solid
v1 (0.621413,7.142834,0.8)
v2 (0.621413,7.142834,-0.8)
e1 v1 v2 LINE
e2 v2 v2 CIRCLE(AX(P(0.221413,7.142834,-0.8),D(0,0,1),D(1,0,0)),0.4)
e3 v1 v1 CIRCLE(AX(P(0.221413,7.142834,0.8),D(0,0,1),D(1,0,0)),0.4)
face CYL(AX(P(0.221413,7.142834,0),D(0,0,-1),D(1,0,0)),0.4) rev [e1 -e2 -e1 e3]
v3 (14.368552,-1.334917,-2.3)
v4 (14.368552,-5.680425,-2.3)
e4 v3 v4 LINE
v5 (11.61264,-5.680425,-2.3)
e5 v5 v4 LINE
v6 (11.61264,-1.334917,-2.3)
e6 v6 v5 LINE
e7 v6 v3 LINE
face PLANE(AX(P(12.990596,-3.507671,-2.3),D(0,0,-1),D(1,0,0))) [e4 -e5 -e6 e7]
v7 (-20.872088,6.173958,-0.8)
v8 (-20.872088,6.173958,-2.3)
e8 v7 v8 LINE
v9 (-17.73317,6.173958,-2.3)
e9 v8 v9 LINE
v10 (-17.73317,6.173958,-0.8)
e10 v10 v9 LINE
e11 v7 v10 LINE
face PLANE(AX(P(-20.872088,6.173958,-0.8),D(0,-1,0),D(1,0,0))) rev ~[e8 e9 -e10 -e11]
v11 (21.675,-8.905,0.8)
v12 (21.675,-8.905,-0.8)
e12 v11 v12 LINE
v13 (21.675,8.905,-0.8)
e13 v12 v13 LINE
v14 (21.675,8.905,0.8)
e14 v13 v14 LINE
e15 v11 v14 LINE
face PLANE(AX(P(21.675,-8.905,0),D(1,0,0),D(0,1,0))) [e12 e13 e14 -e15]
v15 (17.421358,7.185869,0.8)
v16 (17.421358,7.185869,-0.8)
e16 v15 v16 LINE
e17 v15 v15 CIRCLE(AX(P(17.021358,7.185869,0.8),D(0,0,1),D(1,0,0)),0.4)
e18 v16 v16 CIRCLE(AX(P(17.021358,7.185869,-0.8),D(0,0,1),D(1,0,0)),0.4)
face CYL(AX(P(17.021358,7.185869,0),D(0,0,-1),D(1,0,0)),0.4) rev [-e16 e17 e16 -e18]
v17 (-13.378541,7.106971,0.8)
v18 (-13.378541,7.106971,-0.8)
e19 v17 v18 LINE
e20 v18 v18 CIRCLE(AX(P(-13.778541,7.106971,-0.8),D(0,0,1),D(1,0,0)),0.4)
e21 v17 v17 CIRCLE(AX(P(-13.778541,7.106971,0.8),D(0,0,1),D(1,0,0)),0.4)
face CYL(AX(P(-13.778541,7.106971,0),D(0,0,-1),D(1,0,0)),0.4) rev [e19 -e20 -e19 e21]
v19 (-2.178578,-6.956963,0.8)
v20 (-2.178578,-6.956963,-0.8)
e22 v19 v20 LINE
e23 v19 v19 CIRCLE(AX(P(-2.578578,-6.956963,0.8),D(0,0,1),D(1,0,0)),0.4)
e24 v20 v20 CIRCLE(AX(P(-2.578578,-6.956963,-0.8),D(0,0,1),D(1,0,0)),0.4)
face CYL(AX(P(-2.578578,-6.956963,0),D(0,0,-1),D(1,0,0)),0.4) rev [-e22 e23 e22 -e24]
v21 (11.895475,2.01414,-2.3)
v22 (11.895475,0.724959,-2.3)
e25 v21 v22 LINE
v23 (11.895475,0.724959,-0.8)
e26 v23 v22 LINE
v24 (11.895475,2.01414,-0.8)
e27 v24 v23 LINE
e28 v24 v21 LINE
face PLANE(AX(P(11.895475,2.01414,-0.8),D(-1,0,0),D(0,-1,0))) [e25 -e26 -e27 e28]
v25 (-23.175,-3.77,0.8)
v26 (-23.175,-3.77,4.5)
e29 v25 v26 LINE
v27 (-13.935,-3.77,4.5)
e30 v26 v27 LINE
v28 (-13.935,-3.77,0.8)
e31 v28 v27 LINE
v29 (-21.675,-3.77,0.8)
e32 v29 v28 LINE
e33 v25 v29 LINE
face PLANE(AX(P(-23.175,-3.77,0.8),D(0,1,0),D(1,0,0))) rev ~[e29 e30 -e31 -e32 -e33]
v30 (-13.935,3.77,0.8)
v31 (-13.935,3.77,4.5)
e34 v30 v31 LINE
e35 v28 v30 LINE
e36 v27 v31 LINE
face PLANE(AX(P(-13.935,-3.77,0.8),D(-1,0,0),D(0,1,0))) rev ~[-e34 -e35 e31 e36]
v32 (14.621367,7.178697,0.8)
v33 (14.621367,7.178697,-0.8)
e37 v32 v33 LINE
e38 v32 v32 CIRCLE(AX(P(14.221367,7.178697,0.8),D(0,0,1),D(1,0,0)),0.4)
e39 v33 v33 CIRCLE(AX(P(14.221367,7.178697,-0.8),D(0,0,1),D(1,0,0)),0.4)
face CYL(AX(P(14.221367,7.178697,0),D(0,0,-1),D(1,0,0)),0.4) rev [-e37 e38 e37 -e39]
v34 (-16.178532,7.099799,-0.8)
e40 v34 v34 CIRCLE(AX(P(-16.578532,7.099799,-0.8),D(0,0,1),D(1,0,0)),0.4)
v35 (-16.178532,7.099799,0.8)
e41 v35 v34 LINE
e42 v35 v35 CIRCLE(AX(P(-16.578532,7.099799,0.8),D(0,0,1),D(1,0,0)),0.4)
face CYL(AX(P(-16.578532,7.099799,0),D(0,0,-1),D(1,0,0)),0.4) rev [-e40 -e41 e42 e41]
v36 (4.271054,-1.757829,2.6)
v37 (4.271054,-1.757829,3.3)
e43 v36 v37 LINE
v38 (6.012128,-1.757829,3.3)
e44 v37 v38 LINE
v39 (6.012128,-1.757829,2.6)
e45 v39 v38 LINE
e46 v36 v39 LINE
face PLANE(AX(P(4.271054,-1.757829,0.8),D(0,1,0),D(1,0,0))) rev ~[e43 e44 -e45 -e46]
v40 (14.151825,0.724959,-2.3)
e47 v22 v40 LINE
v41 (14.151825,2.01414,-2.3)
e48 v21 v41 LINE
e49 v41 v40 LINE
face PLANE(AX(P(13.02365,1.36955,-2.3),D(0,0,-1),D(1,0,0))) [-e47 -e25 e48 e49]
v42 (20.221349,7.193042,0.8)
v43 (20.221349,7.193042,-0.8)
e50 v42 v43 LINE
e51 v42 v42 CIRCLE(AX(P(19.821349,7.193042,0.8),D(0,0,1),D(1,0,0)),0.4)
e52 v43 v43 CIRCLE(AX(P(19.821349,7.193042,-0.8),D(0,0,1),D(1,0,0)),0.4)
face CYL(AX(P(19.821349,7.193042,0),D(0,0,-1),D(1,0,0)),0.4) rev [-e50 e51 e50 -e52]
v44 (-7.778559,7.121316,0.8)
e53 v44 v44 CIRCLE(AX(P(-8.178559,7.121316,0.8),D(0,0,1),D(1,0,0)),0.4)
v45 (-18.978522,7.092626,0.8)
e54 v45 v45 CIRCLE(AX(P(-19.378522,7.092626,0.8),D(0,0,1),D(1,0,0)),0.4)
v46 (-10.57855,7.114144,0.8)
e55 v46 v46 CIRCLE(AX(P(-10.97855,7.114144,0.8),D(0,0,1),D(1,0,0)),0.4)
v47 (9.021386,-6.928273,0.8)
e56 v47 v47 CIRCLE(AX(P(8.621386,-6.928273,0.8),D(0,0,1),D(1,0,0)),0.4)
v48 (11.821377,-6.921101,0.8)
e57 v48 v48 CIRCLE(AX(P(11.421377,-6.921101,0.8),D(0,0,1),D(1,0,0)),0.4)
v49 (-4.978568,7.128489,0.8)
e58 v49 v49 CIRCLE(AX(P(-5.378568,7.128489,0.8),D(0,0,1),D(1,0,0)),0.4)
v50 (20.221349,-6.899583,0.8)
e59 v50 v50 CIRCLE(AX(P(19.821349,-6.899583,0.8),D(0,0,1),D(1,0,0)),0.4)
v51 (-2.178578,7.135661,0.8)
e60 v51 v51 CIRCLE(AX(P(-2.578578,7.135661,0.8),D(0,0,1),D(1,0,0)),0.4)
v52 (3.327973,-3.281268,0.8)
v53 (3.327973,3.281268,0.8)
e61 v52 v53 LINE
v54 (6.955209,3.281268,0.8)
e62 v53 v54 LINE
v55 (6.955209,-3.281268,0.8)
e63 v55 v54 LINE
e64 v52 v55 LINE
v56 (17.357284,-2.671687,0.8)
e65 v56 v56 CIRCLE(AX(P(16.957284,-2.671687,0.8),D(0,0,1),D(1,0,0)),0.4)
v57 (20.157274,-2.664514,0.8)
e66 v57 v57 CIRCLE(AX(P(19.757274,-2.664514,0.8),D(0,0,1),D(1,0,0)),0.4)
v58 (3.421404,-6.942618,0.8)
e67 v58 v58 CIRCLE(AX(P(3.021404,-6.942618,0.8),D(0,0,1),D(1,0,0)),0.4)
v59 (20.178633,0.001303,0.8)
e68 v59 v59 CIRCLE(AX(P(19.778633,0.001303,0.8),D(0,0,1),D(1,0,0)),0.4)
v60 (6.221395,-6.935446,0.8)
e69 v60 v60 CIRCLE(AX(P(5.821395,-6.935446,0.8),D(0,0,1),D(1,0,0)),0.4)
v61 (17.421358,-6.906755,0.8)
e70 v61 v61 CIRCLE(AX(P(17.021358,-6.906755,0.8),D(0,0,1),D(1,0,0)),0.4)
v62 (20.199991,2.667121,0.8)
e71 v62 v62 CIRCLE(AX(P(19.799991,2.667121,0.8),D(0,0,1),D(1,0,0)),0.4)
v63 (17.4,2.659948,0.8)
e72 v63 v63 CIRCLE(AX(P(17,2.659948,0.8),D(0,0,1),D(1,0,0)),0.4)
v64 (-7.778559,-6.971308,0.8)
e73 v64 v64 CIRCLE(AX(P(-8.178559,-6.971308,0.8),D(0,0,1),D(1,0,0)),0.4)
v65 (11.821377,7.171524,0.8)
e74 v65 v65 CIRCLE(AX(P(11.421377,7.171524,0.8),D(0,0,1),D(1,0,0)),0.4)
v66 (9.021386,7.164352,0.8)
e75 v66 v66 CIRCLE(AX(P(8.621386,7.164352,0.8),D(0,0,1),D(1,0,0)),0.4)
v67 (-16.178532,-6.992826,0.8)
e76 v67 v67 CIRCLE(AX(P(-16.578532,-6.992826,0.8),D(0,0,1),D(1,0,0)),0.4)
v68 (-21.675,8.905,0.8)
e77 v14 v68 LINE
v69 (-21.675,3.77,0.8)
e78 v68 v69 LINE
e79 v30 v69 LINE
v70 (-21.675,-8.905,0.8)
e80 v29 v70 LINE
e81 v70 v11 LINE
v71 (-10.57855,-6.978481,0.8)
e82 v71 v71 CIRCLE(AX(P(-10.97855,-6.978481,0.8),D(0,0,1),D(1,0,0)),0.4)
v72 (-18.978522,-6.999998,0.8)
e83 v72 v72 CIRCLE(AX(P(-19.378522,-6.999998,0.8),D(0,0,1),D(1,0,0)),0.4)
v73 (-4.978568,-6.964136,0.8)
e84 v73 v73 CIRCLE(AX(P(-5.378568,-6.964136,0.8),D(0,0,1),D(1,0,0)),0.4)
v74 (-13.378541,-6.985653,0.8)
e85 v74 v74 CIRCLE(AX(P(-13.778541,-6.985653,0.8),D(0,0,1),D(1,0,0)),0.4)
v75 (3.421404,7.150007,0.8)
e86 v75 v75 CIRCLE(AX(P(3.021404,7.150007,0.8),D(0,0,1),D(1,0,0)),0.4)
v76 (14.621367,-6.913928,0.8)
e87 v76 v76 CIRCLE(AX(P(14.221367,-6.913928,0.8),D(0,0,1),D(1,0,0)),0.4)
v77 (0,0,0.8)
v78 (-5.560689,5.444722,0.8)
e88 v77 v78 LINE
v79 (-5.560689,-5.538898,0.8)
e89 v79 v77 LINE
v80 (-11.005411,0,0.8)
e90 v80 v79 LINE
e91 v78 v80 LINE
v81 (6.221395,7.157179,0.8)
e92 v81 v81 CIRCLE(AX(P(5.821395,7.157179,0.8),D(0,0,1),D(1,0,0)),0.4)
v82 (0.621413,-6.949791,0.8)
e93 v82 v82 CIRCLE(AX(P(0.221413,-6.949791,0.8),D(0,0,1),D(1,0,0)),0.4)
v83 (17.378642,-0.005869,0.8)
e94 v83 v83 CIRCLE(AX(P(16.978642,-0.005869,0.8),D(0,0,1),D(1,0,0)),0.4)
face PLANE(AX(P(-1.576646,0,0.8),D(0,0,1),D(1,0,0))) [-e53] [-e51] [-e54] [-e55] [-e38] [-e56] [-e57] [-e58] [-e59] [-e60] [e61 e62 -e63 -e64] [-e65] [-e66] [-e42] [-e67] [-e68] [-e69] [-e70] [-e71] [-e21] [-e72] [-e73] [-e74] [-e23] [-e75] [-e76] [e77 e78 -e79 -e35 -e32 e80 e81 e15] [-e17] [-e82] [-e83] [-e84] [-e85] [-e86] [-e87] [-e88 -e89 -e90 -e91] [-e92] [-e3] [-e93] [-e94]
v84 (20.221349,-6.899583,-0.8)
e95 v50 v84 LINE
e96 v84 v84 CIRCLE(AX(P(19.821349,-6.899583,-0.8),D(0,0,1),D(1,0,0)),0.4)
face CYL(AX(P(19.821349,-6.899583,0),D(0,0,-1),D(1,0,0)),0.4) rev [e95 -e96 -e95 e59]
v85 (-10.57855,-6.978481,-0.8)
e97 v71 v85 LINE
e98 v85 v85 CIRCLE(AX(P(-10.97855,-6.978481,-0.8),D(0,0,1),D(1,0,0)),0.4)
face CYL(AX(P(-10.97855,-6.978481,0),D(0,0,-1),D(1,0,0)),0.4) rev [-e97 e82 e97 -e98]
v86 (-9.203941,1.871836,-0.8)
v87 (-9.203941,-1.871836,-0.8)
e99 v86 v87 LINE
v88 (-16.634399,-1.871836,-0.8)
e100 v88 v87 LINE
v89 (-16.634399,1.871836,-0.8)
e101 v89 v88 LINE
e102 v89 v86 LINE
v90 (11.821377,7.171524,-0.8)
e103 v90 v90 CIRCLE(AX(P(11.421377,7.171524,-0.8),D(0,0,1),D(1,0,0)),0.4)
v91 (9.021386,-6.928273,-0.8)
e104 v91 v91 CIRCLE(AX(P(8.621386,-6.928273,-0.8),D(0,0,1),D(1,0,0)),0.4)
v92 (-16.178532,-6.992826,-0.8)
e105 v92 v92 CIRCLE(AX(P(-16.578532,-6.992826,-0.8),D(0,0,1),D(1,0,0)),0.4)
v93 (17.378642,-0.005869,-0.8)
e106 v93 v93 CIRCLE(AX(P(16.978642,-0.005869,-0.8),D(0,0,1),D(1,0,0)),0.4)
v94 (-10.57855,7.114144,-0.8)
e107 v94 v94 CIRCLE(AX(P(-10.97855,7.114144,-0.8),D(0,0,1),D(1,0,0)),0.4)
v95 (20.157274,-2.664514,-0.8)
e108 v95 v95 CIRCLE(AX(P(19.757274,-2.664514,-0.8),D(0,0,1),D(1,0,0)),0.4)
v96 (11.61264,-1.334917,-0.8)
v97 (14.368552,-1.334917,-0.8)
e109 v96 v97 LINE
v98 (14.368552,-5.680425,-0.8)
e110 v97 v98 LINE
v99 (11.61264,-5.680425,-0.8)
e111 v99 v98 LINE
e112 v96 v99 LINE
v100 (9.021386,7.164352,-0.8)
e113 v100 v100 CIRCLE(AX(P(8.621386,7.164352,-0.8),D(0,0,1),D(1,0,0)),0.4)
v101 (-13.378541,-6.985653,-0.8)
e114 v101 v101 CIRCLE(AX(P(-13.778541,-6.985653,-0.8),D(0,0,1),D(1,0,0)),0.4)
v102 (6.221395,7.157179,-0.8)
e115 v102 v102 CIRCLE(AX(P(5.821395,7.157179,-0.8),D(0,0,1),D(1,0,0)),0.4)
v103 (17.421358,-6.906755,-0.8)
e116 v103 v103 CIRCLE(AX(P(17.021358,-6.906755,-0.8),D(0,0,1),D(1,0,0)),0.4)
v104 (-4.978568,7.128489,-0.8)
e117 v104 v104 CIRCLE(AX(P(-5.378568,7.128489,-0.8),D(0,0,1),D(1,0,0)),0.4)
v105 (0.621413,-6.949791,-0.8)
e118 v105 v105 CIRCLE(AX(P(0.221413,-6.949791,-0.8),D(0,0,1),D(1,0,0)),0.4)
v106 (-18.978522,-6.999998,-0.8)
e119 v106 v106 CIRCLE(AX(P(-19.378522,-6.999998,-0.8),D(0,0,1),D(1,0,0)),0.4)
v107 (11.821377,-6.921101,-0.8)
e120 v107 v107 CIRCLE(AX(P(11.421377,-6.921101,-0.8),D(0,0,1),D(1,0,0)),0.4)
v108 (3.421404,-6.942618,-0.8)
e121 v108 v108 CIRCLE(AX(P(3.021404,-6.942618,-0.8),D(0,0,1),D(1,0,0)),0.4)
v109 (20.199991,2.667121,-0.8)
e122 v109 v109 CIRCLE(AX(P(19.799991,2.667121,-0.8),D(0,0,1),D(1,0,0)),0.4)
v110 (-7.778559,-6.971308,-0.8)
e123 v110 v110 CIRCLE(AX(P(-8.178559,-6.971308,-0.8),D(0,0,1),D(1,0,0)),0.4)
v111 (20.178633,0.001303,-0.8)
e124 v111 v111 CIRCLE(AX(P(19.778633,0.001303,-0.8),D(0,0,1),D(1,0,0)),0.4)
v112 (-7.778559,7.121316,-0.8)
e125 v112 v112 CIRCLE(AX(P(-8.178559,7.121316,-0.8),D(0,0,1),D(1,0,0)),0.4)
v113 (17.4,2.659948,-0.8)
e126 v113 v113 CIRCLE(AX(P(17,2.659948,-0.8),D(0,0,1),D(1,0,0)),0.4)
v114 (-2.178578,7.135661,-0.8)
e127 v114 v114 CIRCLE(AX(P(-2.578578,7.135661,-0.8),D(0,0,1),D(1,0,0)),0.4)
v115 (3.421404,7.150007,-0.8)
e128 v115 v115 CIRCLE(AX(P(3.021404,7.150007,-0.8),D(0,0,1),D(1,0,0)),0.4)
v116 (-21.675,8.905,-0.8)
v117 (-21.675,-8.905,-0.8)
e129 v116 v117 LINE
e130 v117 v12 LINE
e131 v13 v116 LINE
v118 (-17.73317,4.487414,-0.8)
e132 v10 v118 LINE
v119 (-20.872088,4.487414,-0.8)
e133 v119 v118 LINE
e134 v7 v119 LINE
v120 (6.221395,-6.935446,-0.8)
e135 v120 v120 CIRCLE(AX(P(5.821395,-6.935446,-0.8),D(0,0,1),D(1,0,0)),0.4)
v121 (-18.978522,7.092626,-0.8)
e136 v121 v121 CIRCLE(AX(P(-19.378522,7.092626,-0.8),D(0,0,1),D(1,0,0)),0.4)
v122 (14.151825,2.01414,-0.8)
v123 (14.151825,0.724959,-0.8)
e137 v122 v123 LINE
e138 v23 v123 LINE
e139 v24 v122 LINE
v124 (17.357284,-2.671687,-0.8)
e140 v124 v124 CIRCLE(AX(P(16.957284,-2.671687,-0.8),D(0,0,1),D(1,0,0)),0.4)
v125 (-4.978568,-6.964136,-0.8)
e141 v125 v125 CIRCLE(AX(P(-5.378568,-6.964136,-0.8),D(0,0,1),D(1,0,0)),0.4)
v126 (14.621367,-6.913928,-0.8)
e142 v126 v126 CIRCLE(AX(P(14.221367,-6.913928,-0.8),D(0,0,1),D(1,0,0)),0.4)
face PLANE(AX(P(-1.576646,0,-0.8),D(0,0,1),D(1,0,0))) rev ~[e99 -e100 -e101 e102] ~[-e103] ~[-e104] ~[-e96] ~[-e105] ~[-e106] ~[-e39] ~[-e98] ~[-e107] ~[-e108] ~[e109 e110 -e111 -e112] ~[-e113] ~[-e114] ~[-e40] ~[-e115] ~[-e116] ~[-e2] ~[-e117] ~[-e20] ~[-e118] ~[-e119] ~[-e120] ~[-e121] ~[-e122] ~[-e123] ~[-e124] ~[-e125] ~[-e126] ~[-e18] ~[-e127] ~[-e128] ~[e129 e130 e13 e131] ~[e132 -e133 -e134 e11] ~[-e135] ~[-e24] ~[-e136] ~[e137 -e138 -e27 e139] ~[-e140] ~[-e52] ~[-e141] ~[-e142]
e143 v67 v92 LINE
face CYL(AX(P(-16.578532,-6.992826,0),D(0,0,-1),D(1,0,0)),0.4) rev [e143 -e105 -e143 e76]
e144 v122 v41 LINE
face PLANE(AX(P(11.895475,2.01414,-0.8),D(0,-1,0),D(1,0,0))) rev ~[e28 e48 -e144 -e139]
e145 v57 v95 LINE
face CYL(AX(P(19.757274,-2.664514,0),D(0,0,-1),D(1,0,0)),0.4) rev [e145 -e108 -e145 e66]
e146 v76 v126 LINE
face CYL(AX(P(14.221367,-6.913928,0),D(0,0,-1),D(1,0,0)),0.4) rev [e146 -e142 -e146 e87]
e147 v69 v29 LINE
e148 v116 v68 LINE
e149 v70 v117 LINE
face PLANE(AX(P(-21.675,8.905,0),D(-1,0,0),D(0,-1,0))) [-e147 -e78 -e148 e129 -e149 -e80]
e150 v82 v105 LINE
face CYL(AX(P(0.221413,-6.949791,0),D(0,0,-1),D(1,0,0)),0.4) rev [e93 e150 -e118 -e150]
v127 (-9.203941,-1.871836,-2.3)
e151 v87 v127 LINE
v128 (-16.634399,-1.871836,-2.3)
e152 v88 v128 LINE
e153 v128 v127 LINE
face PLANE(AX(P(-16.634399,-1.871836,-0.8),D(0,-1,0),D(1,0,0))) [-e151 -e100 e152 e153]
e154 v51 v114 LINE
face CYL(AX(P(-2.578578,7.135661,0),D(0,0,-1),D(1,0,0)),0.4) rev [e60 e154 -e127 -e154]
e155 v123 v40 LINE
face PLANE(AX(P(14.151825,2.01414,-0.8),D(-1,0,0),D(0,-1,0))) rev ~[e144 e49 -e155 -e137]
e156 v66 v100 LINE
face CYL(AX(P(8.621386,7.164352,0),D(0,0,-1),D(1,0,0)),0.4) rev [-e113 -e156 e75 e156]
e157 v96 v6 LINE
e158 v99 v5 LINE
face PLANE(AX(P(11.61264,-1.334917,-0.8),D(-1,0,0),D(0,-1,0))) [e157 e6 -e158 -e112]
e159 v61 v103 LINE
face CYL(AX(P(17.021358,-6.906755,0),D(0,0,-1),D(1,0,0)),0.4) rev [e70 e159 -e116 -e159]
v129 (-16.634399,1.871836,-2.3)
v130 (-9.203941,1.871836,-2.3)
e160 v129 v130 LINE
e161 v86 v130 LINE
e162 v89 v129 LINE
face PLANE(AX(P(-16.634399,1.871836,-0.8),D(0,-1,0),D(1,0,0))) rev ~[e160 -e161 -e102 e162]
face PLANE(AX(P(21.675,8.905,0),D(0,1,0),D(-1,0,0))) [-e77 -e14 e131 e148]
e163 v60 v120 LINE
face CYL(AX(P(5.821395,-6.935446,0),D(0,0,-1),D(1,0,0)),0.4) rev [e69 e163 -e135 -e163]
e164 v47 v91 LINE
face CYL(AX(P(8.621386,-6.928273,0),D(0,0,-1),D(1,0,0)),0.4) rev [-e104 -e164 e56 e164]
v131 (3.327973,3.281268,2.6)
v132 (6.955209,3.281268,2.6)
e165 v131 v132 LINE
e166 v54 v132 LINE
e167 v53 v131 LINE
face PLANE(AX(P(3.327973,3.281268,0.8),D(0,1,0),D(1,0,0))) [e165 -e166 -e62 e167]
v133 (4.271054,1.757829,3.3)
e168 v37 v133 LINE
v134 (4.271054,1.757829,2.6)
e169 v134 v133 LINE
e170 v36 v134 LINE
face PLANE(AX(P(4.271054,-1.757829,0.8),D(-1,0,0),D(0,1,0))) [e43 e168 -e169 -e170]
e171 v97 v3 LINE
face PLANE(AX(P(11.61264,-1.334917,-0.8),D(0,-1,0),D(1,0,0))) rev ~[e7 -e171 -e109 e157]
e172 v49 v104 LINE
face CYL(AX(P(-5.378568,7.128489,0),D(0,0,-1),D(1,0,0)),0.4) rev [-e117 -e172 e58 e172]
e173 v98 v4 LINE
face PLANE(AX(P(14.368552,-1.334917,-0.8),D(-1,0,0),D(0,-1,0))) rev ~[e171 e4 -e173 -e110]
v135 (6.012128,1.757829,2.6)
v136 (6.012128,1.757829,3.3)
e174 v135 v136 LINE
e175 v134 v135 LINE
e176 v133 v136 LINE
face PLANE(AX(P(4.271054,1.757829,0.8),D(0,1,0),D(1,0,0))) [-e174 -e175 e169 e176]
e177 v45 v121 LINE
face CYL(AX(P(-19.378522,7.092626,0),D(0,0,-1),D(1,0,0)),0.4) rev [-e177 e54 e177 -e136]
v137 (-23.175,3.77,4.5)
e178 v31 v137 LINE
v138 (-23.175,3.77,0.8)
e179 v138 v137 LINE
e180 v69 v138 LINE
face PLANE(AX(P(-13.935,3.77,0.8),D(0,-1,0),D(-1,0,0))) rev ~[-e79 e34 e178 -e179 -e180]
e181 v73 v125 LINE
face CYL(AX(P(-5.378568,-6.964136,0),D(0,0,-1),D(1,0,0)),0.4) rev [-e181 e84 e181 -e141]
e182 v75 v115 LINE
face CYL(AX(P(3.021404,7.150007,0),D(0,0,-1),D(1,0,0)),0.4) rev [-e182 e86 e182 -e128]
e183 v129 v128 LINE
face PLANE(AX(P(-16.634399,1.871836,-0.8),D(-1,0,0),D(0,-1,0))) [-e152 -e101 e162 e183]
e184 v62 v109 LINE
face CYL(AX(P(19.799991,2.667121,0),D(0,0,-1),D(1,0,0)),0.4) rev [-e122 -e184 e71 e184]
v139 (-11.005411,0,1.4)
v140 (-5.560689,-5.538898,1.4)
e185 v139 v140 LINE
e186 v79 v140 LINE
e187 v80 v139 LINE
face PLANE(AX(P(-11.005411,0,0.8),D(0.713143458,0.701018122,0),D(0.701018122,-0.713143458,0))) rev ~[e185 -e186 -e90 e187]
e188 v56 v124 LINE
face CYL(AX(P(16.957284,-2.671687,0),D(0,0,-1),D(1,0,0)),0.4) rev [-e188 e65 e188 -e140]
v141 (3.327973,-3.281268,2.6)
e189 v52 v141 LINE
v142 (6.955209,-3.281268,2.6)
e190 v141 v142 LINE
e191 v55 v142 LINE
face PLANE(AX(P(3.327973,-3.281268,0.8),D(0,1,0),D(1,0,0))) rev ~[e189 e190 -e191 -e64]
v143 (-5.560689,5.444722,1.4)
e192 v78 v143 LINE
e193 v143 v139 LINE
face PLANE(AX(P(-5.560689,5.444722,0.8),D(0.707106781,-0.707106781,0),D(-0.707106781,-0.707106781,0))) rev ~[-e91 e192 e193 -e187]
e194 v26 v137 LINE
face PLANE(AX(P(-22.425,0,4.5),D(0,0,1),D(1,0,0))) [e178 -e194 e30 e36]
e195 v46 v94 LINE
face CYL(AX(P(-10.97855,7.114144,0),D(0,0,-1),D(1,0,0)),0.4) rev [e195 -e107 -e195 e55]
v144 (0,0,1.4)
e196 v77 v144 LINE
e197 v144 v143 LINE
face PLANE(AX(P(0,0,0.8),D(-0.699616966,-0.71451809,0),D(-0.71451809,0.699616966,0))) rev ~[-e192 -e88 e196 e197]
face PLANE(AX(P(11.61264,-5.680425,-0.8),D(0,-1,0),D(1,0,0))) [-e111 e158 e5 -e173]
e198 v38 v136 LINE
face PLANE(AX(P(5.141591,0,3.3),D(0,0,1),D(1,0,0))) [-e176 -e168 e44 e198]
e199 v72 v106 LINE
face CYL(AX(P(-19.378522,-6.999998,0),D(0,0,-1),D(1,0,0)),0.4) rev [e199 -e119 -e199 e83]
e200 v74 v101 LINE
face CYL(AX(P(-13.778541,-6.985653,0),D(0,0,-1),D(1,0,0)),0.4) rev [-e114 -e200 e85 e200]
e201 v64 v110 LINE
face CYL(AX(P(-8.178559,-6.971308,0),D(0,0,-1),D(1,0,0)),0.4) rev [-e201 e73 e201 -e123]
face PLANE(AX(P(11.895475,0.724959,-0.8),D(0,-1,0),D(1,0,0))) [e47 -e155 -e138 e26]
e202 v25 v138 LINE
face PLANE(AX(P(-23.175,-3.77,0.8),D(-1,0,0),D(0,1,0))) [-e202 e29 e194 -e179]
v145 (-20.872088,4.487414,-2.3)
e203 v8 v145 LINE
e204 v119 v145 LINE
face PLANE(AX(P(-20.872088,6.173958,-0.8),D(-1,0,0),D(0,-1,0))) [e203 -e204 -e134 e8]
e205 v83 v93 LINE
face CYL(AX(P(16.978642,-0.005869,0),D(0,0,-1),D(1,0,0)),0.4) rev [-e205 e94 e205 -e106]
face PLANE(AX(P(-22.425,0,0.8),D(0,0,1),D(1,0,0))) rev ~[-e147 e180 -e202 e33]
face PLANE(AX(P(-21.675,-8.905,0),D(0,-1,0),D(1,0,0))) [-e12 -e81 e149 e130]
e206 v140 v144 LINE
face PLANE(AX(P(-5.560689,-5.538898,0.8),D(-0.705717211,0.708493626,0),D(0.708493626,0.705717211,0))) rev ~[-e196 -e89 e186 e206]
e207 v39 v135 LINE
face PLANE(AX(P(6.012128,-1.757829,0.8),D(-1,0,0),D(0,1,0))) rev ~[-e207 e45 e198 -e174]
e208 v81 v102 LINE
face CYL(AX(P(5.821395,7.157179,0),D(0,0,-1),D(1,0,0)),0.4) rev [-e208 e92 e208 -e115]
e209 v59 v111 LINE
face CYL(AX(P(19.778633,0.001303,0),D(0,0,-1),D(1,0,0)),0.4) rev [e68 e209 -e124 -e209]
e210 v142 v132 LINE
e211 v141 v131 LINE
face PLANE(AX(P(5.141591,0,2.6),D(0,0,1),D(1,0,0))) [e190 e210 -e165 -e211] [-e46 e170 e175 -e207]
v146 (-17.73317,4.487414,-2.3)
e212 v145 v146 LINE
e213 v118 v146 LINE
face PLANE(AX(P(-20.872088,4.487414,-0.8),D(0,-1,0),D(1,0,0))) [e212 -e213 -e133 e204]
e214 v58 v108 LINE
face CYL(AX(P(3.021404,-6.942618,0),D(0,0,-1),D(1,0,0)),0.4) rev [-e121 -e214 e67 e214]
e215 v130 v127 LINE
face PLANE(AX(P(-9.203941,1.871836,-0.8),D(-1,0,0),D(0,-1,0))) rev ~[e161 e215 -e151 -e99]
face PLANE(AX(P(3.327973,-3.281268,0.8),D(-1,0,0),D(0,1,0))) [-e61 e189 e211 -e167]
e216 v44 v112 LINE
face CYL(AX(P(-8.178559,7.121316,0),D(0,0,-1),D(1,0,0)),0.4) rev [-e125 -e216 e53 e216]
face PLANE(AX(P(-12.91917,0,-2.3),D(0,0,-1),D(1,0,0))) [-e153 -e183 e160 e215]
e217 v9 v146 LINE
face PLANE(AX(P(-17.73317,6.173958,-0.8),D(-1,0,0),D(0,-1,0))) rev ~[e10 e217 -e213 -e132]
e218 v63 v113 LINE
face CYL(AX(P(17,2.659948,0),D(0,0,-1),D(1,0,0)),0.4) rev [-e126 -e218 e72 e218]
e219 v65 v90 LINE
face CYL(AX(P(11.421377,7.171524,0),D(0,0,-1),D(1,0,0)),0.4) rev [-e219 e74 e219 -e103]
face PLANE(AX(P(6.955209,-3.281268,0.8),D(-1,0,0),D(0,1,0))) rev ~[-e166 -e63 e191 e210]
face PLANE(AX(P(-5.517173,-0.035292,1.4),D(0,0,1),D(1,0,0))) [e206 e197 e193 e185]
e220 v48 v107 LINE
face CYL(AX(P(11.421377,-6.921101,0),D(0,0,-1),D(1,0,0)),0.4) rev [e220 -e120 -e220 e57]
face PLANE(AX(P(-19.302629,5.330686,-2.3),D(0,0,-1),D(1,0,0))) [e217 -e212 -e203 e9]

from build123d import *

# Parameters (mm, degrees)
F0_R     = 0.4
F0_W     = 3.627236
F0_H     = 6.562536
F0_W_2   = 7.74
F0_H_2   = 7.54
F0_W_3   = 1.741074
F0_H_3   = 3.515658
F1_DEPTH = 0.8
F2_W     = 1.5
F2_H     = 7.54
F2_W_2   = 7.74
F3_DEPTH = 3.7
F4_DEPTH = 0.6
F2_W_3   = 3.627236
F2_H_2   = 6.562536
F2_W_4   = 1.741074
F2_H_3   = 3.515658
F5_DEPTH = 1.8
F6_DEPTH = 2.5
F7_W     = 3.138918
F7_H     = 1.686543
F7_W_2   = 7.430458
F7_H_2   = 3.743672
F7_W_3   = 2.755912
F7_H_3   = 4.345508
F7_W_4   = 2.256349
F7_H_4   = 1.289181
F8_DEPTH = 1.5


with BuildPart() as f1:
    # F0 (on Top) → F1 (new body, symmetric)
    with BuildSketch(Plane.XY):
        Polygon((21.675, -8.905), (21.675, 8.905), (-21.675, 8.905), (-21.675, 3.77), (-13.935, 3.77), (-13.935, -3.77), (-21.675, -3.77), (-21.675, -8.905), align=None)
        with Locations((-19.378522, -6.999998)):
            Circle(F0_R, mode=Mode.SUBTRACT)
        with Locations((-16.578532, -6.992826)):
            Circle(F0_R, mode=Mode.SUBTRACT)
        with Locations((-13.778541, -6.985653)):
            Circle(F0_R, mode=Mode.SUBTRACT)
        with Locations((-10.97855, -6.978481)):
            Circle(F0_R, mode=Mode.SUBTRACT)
        with Locations((-8.178559, -6.971308)):
            Circle(F0_R, mode=Mode.SUBTRACT)
        with Locations((-5.378568, -6.964136)):
            Circle(F0_R, mode=Mode.SUBTRACT)
        with Locations((-2.578578, -6.956963)):
            Circle(F0_R, mode=Mode.SUBTRACT)
        with Locations((0.221413, -6.949791)):
            Circle(F0_R, mode=Mode.SUBTRACT)
        with Locations((3.021404, -6.942618)):
            Circle(F0_R, mode=Mode.SUBTRACT)
        with Locations((5.821395, -6.935446)):
            Circle(F0_R, mode=Mode.SUBTRACT)
        with Locations((8.621386, -6.928273)):
            Circle(F0_R, mode=Mode.SUBTRACT)
        with Locations((11.421377, -6.921101)):
            Circle(F0_R, mode=Mode.SUBTRACT)
        with Locations((14.221367, -6.913928)):
            Circle(F0_R, mode=Mode.SUBTRACT)
        with Locations((17.021358, -6.906755)):
            Circle(F0_R, mode=Mode.SUBTRACT)
        with Locations((19.821349, -6.899583)):
            Circle(F0_R, mode=Mode.SUBTRACT)
        Polygon((-0.115967, -0.994175), (-5.560689, -6.438898), (-11.005411, -0.994175), (-5.560689, 4.450547), align=None, mode=Mode.SUBTRACT)
        with Locations((16.957284, -2.671687)):
            Circle(F0_R, mode=Mode.SUBTRACT)
        with Locations((19.757274, -2.664514)):
            Circle(F0_R, mode=Mode.SUBTRACT)
        with Locations((16.978642, -0.005869)):
            Circle(F0_R, mode=Mode.SUBTRACT)
        with Locations((5.141591, 0)):
            Rectangle(F0_W, F0_H, mode=Mode.SUBTRACT)
        with Locations((19.778633, 0.001303)):
            Circle(F0_R, mode=Mode.SUBTRACT)
        with Locations((17, 2.659948)):
            Circle(F0_R, mode=Mode.SUBTRACT)
        with Locations((19.799991, 2.667121)):
            Circle(F0_R, mode=Mode.SUBTRACT)
        with Locations((-19.378522, 7.092626)):
            Circle(F0_R, mode=Mode.SUBTRACT)
        with Locations((-16.578532, 7.099799)):
            Circle(F0_R, mode=Mode.SUBTRACT)
        with Locations((-13.778541, 7.106971)):
            Circle(F0_R, mode=Mode.SUBTRACT)
        with Locations((-10.97855, 7.114144)):
            Circle(F0_R, mode=Mode.SUBTRACT)
        with Locations((-8.178559, 7.121316)):
            Circle(F0_R, mode=Mode.SUBTRACT)
        with Locations((-5.378568, 7.128489)):
            Circle(F0_R, mode=Mode.SUBTRACT)
        with Locations((-2.578578, 7.135661)):
            Circle(F0_R, mode=Mode.SUBTRACT)
        with Locations((0.221413, 7.142834)):
            Circle(F0_R, mode=Mode.SUBTRACT)
        with Locations((3.021404, 7.150007)):
            Circle(F0_R, mode=Mode.SUBTRACT)
        with Locations((5.821395, 7.157179)):
            Circle(F0_R, mode=Mode.SUBTRACT)
        with Locations((8.621386, 7.164352)):
            Circle(F0_R, mode=Mode.SUBTRACT)
        with Locations((11.421377, 7.171524)):
            Circle(F0_R, mode=Mode.SUBTRACT)
        with Locations((14.221367, 7.178697)):
            Circle(F0_R, mode=Mode.SUBTRACT)
        with Locations((17.021358, 7.185869)):
            Circle(F0_R, mode=Mode.SUBTRACT)
        with Locations((19.821349, 7.193042)):
            Circle(F0_R, mode=Mode.SUBTRACT)
        with Locations((-17.805, 0)):
            Rectangle(F0_W_2, F0_H_2)
        Polygon((-11.005411, -0.994175), (-5.560689, -6.438898), (-0.115967, -0.994175), (-5.560689, 4.450547), align=None)
        with Locations((5.141591, 0)):
            Rectangle(F0_W, F0_H)
        with Locations((5.141591, 0)):
            Rectangle(F0_W_3, F0_H_3, mode=Mode.SUBTRACT)
        with Locations((5.141591, 0)):
            Rectangle(F0_W_3, F0_H_3)
    extrude(amount=F1_DEPTH, both=True)

    # F2 (on face) → F3 (join)
    with BuildSketch(Plane.XY.offset(0.8)):
        with Locations((-22.425, 0)):
            Rectangle(F2_W, F2_H)
        with Locations((-17.805, 0)):
            Rectangle(F2_W_2, F2_H)
    extrude(amount=F3_DEPTH)

    # F2 (on face) → F4 (join)
    with BuildSketch(Plane.XY.offset(0.8)):
        Polygon((-5.560689, 5.444722), (-11.005411, 0), (-5.560689, -5.538898), (0, 0), align=None)
    extrude(amount=F4_DEPTH)

    # F2 (on face) → F5 (join)
    with BuildSketch(Plane.XY.offset(0.8)):
        with Locations((5.141591, 0)):
            Rectangle(F2_W_3, F2_H_2)
        with Locations((5.141591, 0)):
            Rectangle(F2_W_4, F2_H_3, mode=Mode.SUBTRACT)
    extrude(amount=F5_DEPTH)

    # F2 (on face) → F6 (join)
    with BuildSketch(Plane.XY.offset(0.8)):
        with Locations((5.141591, 0)):
            Rectangle(F2_W_4, F2_H_3)
    extrude(amount=F6_DEPTH)

    # F7 (on face) → F8 (join)
    with BuildSketch(Plane(origin=(0, 0, -0.8), x_dir=(1, 0, 0), z_dir=(0, 0, -1))):
        with Locations((-19.302629, -5.330686)):
            Rectangle(F7_W, F7_H)
        with Locations((-12.91917, 0)):
            Rectangle(F7_W_2, F7_H_2)
        with Locations((12.990596, 3.507671)):
            Rectangle(F7_W_3, F7_H_3)
        with Locations((13.02365, -1.36955)):
            Rectangle(F7_W_4, F7_H_4)
    extrude(amount=F8_DEPTH)


solid = f1.part
